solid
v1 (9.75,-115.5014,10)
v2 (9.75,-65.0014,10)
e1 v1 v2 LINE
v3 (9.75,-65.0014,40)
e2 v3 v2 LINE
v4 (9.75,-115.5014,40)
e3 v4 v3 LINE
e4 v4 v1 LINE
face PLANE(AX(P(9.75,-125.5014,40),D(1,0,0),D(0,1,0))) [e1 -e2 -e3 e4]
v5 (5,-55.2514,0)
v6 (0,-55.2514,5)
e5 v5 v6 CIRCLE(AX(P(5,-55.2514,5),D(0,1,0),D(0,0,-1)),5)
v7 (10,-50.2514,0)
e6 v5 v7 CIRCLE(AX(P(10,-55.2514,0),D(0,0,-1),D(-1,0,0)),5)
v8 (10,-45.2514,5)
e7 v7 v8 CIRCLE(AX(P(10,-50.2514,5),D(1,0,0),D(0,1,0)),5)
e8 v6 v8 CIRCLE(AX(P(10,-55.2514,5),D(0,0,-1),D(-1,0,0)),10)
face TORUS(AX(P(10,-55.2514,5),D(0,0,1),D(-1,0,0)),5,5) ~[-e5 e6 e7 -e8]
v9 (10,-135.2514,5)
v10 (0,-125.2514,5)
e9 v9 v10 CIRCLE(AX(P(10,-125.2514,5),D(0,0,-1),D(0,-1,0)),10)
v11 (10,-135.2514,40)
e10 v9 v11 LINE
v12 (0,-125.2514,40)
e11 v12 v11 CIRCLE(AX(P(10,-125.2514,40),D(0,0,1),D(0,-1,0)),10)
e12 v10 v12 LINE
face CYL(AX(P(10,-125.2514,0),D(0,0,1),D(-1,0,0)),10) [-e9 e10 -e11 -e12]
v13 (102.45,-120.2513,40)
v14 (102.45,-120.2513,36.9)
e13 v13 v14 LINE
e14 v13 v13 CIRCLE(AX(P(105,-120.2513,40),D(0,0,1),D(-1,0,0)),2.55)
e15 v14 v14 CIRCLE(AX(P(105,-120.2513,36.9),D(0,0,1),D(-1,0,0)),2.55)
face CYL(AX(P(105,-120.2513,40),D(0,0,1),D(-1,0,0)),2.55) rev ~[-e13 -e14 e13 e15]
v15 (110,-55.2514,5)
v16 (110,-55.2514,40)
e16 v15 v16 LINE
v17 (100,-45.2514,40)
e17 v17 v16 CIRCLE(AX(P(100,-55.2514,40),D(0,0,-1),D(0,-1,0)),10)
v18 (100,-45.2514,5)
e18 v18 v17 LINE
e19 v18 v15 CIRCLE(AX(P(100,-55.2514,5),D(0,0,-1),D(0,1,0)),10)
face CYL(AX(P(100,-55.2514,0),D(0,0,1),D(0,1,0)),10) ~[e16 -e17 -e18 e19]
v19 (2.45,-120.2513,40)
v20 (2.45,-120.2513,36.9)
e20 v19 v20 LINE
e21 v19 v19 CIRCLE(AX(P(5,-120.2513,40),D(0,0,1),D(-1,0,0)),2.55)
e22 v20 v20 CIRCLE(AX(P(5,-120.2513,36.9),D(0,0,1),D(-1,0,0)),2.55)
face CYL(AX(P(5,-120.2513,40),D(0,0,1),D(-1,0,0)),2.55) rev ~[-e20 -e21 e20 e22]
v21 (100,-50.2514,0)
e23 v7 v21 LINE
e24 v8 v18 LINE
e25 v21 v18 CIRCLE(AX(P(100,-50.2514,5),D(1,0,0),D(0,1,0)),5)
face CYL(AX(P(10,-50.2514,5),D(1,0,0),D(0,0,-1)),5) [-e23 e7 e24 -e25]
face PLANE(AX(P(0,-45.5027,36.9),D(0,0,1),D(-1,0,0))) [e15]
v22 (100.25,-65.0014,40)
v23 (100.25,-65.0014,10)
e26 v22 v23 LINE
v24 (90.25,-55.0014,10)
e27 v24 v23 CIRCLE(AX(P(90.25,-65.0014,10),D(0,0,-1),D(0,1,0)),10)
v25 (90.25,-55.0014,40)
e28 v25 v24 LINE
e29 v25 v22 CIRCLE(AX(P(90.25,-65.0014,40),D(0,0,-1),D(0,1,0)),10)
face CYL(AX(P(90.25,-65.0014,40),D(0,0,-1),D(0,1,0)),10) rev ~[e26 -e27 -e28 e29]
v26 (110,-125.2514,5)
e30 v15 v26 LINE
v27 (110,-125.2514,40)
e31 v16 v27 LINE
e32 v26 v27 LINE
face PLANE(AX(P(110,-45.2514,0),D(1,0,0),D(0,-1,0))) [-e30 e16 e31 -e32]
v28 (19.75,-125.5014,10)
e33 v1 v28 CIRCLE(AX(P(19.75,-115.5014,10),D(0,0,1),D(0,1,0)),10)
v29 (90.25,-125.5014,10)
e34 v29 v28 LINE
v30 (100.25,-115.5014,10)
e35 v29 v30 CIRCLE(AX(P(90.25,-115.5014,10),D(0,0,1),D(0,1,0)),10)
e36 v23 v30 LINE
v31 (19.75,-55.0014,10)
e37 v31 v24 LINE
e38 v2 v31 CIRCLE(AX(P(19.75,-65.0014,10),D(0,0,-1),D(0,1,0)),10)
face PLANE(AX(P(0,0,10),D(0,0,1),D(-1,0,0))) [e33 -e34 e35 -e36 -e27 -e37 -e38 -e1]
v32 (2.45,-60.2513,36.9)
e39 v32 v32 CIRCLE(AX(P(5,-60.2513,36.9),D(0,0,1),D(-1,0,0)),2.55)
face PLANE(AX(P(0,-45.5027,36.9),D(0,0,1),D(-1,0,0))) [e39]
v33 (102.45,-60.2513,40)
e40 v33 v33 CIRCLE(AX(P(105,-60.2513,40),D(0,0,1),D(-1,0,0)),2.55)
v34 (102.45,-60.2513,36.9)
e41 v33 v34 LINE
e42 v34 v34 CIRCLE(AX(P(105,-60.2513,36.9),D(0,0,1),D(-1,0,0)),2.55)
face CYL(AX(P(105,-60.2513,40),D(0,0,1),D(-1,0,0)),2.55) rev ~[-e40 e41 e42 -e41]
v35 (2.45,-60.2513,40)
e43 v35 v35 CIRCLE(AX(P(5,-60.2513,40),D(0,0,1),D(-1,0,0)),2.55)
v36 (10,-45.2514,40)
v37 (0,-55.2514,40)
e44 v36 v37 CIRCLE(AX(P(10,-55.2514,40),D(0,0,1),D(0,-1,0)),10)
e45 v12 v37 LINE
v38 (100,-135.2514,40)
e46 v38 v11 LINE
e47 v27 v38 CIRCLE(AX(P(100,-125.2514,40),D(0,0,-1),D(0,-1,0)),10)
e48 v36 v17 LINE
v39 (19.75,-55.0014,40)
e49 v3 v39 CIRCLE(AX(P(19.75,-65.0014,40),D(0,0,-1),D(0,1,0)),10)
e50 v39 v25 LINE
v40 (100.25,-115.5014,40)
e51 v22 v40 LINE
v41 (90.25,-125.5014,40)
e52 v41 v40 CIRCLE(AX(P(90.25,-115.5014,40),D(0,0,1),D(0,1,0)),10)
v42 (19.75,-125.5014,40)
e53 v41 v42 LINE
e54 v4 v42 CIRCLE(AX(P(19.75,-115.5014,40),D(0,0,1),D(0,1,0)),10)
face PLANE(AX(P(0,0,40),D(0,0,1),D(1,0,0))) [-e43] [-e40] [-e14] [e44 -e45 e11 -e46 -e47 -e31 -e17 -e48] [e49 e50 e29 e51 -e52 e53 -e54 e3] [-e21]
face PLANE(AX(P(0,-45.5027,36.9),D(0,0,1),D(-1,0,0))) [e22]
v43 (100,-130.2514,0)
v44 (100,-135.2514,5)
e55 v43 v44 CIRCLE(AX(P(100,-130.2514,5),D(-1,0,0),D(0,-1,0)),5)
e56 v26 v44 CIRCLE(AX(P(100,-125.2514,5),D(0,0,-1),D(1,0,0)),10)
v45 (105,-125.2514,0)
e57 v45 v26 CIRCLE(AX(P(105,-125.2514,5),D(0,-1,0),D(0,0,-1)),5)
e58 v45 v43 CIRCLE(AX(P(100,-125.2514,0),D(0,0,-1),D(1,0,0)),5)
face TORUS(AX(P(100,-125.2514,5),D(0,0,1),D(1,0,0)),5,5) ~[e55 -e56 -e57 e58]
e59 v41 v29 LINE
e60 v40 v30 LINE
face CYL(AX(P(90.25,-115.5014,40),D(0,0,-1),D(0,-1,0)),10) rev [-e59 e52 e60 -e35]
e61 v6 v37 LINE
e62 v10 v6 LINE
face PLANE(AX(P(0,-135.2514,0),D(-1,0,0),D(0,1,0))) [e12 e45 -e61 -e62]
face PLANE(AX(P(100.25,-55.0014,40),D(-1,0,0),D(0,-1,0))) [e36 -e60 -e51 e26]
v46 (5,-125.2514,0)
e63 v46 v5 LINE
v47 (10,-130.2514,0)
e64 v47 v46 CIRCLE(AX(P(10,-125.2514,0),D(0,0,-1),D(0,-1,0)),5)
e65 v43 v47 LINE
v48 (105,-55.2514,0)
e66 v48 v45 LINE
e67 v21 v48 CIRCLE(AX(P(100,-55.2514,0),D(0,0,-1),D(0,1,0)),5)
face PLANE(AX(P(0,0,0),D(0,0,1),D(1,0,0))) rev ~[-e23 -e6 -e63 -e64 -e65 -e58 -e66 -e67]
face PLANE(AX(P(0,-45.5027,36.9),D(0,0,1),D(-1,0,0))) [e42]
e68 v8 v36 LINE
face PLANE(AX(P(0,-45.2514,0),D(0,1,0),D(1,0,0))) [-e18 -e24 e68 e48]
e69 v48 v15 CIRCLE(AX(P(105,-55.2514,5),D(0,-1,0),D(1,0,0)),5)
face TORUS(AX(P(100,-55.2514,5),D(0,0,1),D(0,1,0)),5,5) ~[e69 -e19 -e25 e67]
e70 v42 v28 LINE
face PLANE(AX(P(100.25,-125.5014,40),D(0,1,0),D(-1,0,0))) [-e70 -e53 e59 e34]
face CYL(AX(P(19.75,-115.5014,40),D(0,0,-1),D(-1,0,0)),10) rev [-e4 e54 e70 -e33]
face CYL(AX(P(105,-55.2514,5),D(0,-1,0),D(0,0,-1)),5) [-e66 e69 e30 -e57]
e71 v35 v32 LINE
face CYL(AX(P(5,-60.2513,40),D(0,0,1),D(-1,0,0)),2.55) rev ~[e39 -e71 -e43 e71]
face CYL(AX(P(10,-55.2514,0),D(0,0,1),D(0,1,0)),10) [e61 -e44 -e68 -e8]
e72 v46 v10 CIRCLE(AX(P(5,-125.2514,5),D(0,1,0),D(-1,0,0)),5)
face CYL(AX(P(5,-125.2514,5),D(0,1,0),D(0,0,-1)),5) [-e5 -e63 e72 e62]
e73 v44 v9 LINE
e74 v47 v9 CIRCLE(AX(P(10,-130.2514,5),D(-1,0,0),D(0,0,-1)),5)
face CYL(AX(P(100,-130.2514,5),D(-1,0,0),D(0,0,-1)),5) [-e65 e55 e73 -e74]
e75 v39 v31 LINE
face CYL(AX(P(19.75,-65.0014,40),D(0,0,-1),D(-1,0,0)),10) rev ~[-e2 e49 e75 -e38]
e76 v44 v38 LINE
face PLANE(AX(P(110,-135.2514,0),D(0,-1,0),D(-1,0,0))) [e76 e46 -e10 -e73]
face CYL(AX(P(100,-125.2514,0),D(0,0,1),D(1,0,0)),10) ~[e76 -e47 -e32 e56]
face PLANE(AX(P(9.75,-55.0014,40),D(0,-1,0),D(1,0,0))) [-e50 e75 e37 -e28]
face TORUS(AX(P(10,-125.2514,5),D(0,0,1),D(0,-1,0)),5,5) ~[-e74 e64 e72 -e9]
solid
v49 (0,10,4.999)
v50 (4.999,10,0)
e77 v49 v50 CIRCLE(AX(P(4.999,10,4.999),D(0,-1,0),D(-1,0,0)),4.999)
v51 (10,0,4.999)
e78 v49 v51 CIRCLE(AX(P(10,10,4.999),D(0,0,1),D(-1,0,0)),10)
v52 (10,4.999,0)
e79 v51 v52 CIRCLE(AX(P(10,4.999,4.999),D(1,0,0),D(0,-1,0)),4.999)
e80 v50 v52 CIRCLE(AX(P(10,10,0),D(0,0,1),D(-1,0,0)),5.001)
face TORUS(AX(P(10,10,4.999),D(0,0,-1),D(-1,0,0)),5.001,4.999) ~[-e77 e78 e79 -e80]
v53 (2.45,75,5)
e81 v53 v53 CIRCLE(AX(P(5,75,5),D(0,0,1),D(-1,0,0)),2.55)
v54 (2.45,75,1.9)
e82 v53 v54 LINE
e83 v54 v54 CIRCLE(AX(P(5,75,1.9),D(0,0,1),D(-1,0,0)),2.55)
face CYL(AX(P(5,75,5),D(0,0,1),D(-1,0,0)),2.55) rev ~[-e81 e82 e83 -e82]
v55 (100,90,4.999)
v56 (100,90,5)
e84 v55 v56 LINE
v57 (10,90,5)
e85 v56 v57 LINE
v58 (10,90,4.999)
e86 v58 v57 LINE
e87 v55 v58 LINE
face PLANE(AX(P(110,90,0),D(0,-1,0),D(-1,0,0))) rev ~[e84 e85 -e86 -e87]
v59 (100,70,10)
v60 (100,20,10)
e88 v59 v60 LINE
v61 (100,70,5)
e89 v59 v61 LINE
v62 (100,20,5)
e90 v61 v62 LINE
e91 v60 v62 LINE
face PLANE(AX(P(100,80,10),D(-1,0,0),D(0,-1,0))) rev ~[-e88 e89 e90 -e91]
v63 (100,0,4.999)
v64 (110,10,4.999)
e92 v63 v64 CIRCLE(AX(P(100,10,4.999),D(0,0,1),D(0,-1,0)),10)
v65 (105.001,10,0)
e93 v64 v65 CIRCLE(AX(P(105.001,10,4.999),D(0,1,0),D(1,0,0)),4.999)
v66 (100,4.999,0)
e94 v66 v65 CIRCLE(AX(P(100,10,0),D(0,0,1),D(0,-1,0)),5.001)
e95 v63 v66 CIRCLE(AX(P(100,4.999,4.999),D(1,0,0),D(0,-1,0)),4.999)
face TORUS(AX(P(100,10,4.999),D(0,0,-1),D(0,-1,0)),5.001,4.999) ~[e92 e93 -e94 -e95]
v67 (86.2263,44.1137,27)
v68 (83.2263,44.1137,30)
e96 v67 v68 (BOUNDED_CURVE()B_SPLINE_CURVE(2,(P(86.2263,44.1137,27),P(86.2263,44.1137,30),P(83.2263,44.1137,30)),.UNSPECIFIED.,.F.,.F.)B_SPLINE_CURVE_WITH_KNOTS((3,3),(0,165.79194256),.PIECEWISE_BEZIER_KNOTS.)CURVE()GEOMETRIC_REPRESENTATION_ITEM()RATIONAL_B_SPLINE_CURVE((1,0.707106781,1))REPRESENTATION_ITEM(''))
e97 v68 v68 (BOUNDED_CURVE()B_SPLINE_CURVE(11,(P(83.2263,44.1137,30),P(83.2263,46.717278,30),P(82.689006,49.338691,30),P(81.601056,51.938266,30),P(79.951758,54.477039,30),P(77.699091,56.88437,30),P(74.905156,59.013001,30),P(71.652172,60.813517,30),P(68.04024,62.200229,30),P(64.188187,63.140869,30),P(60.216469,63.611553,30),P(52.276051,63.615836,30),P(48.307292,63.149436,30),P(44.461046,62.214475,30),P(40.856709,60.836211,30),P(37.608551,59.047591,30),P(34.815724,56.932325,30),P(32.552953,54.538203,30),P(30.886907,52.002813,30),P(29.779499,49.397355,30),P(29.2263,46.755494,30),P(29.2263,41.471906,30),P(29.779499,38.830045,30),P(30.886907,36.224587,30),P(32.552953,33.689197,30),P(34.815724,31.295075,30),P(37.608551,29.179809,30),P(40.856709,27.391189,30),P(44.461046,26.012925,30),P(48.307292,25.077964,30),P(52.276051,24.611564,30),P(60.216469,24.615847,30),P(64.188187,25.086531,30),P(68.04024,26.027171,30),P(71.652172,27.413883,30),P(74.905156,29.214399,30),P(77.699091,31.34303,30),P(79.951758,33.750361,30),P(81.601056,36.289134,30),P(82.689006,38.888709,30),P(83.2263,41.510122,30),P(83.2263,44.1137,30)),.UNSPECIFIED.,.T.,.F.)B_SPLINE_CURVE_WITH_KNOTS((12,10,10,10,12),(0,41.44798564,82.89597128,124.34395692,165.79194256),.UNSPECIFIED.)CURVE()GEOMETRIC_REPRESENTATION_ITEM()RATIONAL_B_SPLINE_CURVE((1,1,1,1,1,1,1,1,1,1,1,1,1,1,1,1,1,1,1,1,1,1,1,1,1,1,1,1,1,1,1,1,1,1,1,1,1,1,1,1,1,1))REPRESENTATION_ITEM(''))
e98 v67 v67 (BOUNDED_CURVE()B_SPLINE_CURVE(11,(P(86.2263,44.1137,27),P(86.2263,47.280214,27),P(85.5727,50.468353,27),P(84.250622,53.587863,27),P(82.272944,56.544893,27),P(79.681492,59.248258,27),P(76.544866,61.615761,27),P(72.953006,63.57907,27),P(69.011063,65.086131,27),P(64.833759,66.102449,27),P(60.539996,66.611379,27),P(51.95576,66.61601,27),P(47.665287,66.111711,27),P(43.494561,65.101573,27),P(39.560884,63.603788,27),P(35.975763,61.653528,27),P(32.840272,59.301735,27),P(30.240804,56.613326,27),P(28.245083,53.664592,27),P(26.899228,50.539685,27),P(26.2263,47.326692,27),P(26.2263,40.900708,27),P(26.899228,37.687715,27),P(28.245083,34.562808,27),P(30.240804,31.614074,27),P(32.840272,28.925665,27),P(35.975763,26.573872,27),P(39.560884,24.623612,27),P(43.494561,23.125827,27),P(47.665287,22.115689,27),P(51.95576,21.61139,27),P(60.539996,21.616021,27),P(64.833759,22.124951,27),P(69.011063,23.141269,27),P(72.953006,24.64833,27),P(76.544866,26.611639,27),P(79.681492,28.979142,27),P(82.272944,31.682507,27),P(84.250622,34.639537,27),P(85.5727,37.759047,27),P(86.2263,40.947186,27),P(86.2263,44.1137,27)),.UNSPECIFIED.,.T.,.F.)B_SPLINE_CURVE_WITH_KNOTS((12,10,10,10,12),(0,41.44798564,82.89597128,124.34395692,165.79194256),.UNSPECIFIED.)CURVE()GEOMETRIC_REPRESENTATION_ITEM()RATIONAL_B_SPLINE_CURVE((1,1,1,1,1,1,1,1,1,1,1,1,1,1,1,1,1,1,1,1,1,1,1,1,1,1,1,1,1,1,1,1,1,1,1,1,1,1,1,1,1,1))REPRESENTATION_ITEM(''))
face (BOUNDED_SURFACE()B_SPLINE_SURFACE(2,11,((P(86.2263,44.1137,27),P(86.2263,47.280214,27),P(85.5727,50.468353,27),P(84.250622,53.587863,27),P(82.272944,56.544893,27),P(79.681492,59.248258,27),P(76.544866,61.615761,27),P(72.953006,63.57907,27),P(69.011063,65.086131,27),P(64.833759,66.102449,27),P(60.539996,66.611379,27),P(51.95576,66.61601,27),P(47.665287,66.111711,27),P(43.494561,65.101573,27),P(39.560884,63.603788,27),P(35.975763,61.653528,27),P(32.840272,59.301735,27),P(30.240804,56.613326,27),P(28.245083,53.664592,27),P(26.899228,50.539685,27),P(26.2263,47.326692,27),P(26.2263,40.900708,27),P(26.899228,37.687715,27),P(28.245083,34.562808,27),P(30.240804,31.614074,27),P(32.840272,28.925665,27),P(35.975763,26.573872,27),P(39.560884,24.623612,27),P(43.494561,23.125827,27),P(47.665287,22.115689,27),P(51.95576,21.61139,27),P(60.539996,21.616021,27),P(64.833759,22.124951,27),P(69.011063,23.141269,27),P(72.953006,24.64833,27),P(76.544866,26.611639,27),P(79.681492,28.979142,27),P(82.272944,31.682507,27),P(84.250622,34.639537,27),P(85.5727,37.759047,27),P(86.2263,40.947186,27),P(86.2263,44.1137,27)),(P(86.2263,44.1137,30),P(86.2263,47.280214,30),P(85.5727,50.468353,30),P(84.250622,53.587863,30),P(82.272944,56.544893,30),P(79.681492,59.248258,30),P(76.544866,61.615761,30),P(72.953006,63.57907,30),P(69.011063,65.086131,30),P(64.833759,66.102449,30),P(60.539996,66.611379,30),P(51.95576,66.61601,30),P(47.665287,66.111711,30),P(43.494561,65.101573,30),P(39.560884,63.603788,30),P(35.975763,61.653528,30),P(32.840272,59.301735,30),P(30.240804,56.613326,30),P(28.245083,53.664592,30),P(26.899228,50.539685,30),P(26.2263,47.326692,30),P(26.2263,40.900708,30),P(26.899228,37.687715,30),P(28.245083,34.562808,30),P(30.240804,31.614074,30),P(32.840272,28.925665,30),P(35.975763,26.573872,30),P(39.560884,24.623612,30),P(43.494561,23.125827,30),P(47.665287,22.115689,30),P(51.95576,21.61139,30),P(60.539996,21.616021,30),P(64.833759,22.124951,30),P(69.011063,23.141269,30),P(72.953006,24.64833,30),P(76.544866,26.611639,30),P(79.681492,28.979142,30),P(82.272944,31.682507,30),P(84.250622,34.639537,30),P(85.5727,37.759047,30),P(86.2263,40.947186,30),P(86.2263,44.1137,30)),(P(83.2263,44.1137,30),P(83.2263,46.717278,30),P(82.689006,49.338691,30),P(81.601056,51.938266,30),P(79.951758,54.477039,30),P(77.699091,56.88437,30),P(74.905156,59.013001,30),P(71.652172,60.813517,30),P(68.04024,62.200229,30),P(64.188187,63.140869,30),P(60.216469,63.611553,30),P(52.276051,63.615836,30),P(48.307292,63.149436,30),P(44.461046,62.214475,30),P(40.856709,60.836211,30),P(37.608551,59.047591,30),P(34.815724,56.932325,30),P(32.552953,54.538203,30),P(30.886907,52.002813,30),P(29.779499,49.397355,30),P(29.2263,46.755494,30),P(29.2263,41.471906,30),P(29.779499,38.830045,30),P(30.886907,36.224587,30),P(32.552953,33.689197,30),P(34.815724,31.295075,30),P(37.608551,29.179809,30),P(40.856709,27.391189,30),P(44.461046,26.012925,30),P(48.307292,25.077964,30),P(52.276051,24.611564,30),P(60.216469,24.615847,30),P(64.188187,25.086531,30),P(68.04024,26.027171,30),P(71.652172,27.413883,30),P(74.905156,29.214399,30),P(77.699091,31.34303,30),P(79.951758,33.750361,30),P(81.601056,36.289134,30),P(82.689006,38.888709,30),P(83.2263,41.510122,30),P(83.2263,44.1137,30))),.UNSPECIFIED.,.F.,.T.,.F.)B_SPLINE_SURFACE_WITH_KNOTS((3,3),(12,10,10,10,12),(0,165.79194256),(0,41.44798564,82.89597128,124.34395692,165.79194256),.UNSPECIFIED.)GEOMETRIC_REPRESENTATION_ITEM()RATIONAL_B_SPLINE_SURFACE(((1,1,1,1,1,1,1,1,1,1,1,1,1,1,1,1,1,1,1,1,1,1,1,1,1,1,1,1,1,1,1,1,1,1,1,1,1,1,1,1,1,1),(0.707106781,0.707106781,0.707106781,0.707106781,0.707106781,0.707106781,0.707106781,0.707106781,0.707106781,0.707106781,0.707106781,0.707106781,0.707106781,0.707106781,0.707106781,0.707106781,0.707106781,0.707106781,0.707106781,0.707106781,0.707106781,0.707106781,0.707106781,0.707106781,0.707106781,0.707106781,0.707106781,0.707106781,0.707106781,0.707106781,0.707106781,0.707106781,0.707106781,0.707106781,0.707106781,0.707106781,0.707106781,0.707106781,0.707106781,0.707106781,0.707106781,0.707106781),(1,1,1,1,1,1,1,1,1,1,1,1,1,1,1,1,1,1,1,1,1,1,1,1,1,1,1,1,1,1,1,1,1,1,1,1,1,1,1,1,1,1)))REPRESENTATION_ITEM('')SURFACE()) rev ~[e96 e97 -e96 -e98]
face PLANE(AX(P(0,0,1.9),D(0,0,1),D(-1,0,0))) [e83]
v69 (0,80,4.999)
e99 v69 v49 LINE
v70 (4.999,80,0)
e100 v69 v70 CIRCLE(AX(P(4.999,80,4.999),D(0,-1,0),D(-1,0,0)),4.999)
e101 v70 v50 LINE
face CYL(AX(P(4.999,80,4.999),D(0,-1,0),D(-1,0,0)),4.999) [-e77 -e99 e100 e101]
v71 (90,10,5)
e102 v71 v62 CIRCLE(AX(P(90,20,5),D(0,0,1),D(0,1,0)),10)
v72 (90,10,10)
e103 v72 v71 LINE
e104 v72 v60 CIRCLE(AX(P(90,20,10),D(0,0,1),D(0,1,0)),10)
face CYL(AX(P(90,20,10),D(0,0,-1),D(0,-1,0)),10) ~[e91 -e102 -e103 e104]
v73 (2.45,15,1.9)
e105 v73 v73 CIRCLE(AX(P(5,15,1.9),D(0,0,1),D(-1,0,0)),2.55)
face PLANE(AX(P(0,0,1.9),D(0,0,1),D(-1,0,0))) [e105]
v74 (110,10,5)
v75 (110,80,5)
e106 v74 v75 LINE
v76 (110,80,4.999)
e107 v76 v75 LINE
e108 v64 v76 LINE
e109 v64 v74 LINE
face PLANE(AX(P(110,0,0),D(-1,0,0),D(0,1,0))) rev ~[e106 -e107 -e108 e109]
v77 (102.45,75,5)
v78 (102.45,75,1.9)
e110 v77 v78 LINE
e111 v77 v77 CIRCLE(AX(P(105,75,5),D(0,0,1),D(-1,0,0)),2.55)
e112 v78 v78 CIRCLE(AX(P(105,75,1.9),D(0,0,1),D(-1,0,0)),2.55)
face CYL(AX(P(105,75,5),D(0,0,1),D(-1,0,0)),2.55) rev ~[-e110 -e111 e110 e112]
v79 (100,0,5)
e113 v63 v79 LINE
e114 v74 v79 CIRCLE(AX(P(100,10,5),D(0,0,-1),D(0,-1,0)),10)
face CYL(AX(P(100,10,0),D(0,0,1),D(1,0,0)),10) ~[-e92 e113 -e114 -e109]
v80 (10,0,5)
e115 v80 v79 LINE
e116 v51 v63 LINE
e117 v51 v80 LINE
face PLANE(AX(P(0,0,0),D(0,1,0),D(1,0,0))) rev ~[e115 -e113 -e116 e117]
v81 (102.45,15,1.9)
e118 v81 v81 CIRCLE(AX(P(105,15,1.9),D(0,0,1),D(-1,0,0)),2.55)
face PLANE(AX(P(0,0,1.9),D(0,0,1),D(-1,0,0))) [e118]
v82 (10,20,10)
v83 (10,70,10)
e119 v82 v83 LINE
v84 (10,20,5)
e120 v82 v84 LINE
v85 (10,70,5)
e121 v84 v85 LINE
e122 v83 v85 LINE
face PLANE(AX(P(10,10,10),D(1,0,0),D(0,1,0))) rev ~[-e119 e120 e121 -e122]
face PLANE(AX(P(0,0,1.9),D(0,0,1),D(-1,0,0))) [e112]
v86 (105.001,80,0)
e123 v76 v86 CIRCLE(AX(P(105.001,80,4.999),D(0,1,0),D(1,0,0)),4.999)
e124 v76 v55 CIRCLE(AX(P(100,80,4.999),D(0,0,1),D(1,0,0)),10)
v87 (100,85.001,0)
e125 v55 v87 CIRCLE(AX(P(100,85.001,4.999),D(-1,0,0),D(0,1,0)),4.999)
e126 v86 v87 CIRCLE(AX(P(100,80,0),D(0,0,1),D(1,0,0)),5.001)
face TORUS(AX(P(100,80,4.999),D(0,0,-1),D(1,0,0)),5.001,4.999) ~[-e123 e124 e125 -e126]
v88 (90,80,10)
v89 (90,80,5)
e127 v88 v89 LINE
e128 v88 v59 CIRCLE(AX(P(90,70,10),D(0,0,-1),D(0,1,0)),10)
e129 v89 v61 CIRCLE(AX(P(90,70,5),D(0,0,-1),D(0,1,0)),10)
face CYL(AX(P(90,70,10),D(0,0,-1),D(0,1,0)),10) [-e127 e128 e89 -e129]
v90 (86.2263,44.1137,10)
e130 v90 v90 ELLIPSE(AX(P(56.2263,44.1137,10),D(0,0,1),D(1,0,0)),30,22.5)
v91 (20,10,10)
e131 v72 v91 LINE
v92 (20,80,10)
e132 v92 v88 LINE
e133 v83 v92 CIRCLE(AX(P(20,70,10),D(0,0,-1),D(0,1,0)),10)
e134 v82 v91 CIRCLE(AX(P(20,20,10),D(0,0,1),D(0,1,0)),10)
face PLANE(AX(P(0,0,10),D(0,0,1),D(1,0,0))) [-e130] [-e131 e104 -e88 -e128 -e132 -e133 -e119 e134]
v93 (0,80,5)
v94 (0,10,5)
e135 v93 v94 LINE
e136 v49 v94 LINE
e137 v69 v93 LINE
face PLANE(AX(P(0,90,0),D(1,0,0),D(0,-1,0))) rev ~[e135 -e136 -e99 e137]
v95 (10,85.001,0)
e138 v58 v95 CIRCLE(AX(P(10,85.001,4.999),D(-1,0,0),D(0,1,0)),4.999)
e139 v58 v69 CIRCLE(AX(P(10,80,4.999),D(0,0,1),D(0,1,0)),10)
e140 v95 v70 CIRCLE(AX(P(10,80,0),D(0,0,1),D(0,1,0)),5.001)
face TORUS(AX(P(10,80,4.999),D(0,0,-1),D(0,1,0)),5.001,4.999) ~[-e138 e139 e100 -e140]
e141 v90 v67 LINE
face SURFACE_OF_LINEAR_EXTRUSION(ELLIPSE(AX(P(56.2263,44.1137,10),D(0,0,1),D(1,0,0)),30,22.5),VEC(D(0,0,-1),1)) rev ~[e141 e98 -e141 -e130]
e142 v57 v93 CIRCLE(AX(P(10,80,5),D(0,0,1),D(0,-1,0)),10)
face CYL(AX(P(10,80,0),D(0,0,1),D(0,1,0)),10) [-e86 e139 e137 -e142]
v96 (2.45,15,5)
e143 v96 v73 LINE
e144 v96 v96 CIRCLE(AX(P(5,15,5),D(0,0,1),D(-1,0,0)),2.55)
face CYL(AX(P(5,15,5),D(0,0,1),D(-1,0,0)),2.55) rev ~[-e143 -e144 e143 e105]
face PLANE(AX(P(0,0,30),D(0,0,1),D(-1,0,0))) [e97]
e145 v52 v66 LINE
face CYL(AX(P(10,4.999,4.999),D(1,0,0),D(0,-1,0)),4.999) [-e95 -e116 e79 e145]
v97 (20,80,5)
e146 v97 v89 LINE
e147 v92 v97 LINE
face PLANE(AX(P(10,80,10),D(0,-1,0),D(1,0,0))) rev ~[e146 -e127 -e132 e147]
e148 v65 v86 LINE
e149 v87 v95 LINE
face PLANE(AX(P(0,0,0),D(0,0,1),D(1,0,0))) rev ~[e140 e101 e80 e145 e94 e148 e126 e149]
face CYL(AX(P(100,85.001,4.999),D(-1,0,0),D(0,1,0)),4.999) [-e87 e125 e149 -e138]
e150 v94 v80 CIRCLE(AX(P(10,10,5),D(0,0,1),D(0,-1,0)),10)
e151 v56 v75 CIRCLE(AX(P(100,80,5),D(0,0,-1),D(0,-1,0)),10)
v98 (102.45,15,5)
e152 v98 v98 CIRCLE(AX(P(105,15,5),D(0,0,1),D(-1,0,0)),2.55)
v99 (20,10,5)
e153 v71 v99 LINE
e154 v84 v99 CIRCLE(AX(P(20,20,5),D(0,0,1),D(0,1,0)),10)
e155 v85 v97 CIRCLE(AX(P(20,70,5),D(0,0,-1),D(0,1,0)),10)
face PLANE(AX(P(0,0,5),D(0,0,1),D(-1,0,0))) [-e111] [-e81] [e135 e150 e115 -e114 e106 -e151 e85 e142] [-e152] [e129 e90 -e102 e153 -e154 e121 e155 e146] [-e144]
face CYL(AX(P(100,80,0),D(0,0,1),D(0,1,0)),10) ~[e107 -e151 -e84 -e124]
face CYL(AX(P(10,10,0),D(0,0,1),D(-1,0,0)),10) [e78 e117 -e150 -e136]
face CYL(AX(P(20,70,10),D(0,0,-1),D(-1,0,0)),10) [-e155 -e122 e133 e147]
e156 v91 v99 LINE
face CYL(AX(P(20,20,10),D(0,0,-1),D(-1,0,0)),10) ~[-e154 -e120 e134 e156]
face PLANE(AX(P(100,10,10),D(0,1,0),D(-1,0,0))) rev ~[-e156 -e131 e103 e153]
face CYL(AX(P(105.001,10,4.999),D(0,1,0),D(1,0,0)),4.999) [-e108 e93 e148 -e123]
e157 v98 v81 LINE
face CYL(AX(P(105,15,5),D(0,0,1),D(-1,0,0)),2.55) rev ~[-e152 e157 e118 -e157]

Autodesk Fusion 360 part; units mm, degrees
sketch "Sketch1" plane through (0, 0, 0) normal (0, 0, 1) x (1, 0, 0) in component "Base"
  line L0 (0, 0) -> (110, 0)
  line L1 (110, 0) -> (110, 90)
  line L2 (110, 90) -> (0, 90)
  line L3 (0, 90) -> (0, 0)
  dimension "d1" = 110
  dimension "d2" = 90
extrude "Extrude1" add sketch "Sketch1" along normal blind 10 makes body 1 in component "Base"
sketch "Sketch5" plane through (0, 0, 10) normal (0, 0, 1) x (-1, 0, 0) in component "Base"
  line L0 (0, -90) -> (0, 0)
  line L1 (0, 0) -> (-110, 0)
  line L2 (-110, 0) -> (-110, -90)
  line L3 (-110, -90) -> (0, -90)
  line L4 (0, -90) -> (-110, -90)
  line L5 (-110, -90) -> (-110, 0)
  line L6 (-110, 0) -> (0, 0)
  line L7 (0, 0) -> (0, -90)
  line L8 (-10, -80) -> (-100, -80)
  line L9 (-100, -80) -> (-100, -10)
  line L10 (-100, -10) -> (-10, -10)
  line L11 (-10, -10) -> (-10, -80)
  dimension "d30" = 110
  dimension "d31" = 90
  dimension "d32" = 70
  dimension "d33" = 90
  dimension "d34" = 10
  dimension "d35" = 10
  dimension "d36" = 10
  dimension "d37" = 10
extrude "Extrude5" cut sketch "Sketch5" against normal blind 5 bodies 1 in component "Base"
sketch "Sketch6" plane through (0, 0, 10) normal (0, 0, 1) x (-1, 0, 0) in component "Base"
  line L0 (-10, -80) -> (-10, -10)
  line L1 (-10, -10) -> (-100, -10)
  line L2 (-100, -10) -> (-100, -80)
  line L3 (-100, -80) -> (-10, -80)
  ellipse E0 centre (-56.2263, -44.1137) end of major axis (-86.2263, -44.1137) minor radius 22.5
  line L4 (-26.2263, -44.1137) -> (-86.2263, -44.1137) construction
  line L5 (-56.2263, -21.6137) -> (-56.2263, -66.6137) construction
  dimension "d40" = 60
  dimension "d41" = 45
extrude "Extrude6" add sketch "Sketch6" along normal blind 20 contours E0 bodies 1 in component "Base"
sketch "Sketch7" plane through (0, 0, 5) normal (0, 0, 1) x (-1, 0, 0) in component "Base"
  line L0 (-100, -10) -> (-10, -10)
  line L1 (-10, -10) -> (-10, -80)
  line L2 (-10, -80) -> (-100, -80)
  line L3 (-100, -80) -> (-100, -10)
  line L4 (0, 0) -> (-110, 0)
  line L5 (-110, 0) -> (-110, -90)
  line L6 (-110, -90) -> (0, -90)
  line L7 (0, -90) -> (0, 0)
  circle A0 centre (-5, -15) radius 2.55
  circle A1 centre (-5, -75) radius 2.55
  circle A2 centre (-105, -75) radius 2.55
  circle A3 centre (-105, -15) radius 2.55
  dimension "d45" = 5.1
  dimension "d46" = 5.1
  dimension "d47" = 5.1
  dimension "d48" = 5.1
  dimension "d49" = 5
  dimension "d50" = 5
  dimension "d51" = 5
  dimension "d52" = 5
  dimension "d53" = 60
  dimension "d54" = 60
  dimension "d55" = 15
  dimension "d56" = 15
extrude "Extrude7" cut sketch "Sketch7" against normal blind 3.1 contours A0 | A1 | A2 | A3 bodies 1 in component "Base"
sketch "Sketch1 (2)" plane through (0, 0, 0) normal (0, 0, 1) x (1, 0, 0) in component "Lid"
  line L0 (0, -45.2514) -> (110, -45.2514)
  line L1 (110, -45.2514) -> (110, -135.2514)
  line L2 (110, -135.2514) -> (0, -135.2514)
  line L3 (0, -135.2514) -> (0, -45.2514)
  dimension "d59" = 110
  dimension "d60" = 90
extrude "Extrude1'" add sketch "Sketch1 (2)" along normal blind 40 separate body makes body 2 in component "Lid"
sketch "Sketch2" plane through (0, 0, 40) normal (0, 0, 1) x (-1, 0, 0) in component "Lid"
  line L0 (0, 135.2514) -> (-110, 135.2514)
  line L1 (-110, 135.2514) -> (-110, 45.2514)
  line L2 (-110, 45.2514) -> (0, 45.2514)
  line L3 (0, 45.2514) -> (0, 135.2514)
  line L4 (-9.75, 55.0014) -> (-100.25, 55.0014)
  line L5 (-100.25, 55.0014) -> (-100.25, 125.5014)
  line L6 (-100.25, 125.5014) -> (-9.75, 125.5014)
  line L7 (-9.75, 125.5014) -> (-9.75, 55.0014)
  dimension "d63" = 90.5
  dimension "d64" = 70.5
  dimension "d65" = 9.75
  dimension "d66" = 9.75
  dimension "d67" = 9.75
  dimension "d68" = 9.75
extrude "Extrude2" cut sketch "Sketch2" against normal blind 30 contours L4 L5 L6 L7 bodies 2 in component "Lid"
fillet "Fillet1" radius 3 1 edges at (26.2263, 44.1137, 30) on bodies 1 in component "Base"
fillet "Fillet2" radius 10 8 edges at (0, 0, 2.5) (0, 90, 2.5) (110, 90, 2.5) (110, 0, 2.5) (100, 10, 7.5) (100, 80, 7.5) (10, 80, 7.5) (10, 10, 7.5) on bodies 1 in component "Base"
sketch "Sketch4" plane through (0, -45.5027, 40) normal (0, 0, 1) x (-1, 0, 0) in component "Lid"
  line L0 (-100.25, 9.4986) -> (-100.25, 79.9986)
  line L1 (-100.25, 79.9986) -> (-9.75, 79.9986)
  line L2 (-9.75, 79.9986) -> (-9.75, 9.4986)
  line L3 (-9.75, 9.4986) -> (-100.25, 9.4986)
  line L4 (0, 89.7486) -> (-110, 89.7486)
  line L5 (-110, 89.7486) -> (-110, -0.2514)
  line L6 (-110, -0.2514) -> (0, -0.2514)
  line L7 (0, -0.2514) -> (0, 89.7486)
  circle A0 centre (-105, 74.7486) radius 2.55
  circle A1 centre (-105, 14.7486) radius 2.55
  circle A2 centre (-5, 74.7486) radius 2.55
  circle A3 centre (-5, 14.7486) radius 2.55
  dimension "d89" = 5.1
  dimension "d90" = 5.1
  dimension "d91" = 5.1
  dimension "d92" = 5.1
  dimension "d93" = 5
  dimension "d94" = 5
  dimension "d95" = 5
  dimension "d96" = 5
  dimension "d97" = 60
  dimension "d98" = 60
  dimension "d99" = 15
  dimension "d100" = 15
extrude "Extrude3" cut sketch "Sketch4" against normal blind 3.1 contours A0 | A1 | A2 | A3 bodies 2 in component "Lid"
fillet "Fillet2'" radius 10 8 edges at (0, -45.2514, 20) (0, -135.2514, 20) (110, -45.2514, 20) (100.25, -125.5014, 25) (9.75, -55.0014, 25) (110, -135.2514, 20) (9.75, -125.5014, 25) (100.25, -55.0014, 25) on bodies 2 in component "Lid"
fillet "Fillet3" radius 5 8 edges at (107.0711, -48.1803, 0) (110, -90.2514, 0) (107.0711, -132.3224, 0) (55, -135.2514, 0) (2.9289, -132.3224, 0) (0, -90.2514, 0) (2.9289, -48.1803, 0) (55, -45.2514, 0) on bodies 2 in component "Lid"
fillet "Fillet3'" radius 5 8 edges at (0, 45, 0) (2.9289, 2.9289, 0) (55, 0, 0) (107.0711, 2.9289, 0) (110, 45, 0) (107.0711, 87.0711, 0) (55, 90, 0) (2.9289, 87.0711, 0) on bodies 1 in component "Base"
component "Base" placed x (1, 0, 0) y (0, 1, 0) z (0, 0, 1) at (0, 0, 0)
component "Lid" placed x (1, 0, 0) y (0, 1, 0) z (0, 0, 1) at (0, 0, 0)
